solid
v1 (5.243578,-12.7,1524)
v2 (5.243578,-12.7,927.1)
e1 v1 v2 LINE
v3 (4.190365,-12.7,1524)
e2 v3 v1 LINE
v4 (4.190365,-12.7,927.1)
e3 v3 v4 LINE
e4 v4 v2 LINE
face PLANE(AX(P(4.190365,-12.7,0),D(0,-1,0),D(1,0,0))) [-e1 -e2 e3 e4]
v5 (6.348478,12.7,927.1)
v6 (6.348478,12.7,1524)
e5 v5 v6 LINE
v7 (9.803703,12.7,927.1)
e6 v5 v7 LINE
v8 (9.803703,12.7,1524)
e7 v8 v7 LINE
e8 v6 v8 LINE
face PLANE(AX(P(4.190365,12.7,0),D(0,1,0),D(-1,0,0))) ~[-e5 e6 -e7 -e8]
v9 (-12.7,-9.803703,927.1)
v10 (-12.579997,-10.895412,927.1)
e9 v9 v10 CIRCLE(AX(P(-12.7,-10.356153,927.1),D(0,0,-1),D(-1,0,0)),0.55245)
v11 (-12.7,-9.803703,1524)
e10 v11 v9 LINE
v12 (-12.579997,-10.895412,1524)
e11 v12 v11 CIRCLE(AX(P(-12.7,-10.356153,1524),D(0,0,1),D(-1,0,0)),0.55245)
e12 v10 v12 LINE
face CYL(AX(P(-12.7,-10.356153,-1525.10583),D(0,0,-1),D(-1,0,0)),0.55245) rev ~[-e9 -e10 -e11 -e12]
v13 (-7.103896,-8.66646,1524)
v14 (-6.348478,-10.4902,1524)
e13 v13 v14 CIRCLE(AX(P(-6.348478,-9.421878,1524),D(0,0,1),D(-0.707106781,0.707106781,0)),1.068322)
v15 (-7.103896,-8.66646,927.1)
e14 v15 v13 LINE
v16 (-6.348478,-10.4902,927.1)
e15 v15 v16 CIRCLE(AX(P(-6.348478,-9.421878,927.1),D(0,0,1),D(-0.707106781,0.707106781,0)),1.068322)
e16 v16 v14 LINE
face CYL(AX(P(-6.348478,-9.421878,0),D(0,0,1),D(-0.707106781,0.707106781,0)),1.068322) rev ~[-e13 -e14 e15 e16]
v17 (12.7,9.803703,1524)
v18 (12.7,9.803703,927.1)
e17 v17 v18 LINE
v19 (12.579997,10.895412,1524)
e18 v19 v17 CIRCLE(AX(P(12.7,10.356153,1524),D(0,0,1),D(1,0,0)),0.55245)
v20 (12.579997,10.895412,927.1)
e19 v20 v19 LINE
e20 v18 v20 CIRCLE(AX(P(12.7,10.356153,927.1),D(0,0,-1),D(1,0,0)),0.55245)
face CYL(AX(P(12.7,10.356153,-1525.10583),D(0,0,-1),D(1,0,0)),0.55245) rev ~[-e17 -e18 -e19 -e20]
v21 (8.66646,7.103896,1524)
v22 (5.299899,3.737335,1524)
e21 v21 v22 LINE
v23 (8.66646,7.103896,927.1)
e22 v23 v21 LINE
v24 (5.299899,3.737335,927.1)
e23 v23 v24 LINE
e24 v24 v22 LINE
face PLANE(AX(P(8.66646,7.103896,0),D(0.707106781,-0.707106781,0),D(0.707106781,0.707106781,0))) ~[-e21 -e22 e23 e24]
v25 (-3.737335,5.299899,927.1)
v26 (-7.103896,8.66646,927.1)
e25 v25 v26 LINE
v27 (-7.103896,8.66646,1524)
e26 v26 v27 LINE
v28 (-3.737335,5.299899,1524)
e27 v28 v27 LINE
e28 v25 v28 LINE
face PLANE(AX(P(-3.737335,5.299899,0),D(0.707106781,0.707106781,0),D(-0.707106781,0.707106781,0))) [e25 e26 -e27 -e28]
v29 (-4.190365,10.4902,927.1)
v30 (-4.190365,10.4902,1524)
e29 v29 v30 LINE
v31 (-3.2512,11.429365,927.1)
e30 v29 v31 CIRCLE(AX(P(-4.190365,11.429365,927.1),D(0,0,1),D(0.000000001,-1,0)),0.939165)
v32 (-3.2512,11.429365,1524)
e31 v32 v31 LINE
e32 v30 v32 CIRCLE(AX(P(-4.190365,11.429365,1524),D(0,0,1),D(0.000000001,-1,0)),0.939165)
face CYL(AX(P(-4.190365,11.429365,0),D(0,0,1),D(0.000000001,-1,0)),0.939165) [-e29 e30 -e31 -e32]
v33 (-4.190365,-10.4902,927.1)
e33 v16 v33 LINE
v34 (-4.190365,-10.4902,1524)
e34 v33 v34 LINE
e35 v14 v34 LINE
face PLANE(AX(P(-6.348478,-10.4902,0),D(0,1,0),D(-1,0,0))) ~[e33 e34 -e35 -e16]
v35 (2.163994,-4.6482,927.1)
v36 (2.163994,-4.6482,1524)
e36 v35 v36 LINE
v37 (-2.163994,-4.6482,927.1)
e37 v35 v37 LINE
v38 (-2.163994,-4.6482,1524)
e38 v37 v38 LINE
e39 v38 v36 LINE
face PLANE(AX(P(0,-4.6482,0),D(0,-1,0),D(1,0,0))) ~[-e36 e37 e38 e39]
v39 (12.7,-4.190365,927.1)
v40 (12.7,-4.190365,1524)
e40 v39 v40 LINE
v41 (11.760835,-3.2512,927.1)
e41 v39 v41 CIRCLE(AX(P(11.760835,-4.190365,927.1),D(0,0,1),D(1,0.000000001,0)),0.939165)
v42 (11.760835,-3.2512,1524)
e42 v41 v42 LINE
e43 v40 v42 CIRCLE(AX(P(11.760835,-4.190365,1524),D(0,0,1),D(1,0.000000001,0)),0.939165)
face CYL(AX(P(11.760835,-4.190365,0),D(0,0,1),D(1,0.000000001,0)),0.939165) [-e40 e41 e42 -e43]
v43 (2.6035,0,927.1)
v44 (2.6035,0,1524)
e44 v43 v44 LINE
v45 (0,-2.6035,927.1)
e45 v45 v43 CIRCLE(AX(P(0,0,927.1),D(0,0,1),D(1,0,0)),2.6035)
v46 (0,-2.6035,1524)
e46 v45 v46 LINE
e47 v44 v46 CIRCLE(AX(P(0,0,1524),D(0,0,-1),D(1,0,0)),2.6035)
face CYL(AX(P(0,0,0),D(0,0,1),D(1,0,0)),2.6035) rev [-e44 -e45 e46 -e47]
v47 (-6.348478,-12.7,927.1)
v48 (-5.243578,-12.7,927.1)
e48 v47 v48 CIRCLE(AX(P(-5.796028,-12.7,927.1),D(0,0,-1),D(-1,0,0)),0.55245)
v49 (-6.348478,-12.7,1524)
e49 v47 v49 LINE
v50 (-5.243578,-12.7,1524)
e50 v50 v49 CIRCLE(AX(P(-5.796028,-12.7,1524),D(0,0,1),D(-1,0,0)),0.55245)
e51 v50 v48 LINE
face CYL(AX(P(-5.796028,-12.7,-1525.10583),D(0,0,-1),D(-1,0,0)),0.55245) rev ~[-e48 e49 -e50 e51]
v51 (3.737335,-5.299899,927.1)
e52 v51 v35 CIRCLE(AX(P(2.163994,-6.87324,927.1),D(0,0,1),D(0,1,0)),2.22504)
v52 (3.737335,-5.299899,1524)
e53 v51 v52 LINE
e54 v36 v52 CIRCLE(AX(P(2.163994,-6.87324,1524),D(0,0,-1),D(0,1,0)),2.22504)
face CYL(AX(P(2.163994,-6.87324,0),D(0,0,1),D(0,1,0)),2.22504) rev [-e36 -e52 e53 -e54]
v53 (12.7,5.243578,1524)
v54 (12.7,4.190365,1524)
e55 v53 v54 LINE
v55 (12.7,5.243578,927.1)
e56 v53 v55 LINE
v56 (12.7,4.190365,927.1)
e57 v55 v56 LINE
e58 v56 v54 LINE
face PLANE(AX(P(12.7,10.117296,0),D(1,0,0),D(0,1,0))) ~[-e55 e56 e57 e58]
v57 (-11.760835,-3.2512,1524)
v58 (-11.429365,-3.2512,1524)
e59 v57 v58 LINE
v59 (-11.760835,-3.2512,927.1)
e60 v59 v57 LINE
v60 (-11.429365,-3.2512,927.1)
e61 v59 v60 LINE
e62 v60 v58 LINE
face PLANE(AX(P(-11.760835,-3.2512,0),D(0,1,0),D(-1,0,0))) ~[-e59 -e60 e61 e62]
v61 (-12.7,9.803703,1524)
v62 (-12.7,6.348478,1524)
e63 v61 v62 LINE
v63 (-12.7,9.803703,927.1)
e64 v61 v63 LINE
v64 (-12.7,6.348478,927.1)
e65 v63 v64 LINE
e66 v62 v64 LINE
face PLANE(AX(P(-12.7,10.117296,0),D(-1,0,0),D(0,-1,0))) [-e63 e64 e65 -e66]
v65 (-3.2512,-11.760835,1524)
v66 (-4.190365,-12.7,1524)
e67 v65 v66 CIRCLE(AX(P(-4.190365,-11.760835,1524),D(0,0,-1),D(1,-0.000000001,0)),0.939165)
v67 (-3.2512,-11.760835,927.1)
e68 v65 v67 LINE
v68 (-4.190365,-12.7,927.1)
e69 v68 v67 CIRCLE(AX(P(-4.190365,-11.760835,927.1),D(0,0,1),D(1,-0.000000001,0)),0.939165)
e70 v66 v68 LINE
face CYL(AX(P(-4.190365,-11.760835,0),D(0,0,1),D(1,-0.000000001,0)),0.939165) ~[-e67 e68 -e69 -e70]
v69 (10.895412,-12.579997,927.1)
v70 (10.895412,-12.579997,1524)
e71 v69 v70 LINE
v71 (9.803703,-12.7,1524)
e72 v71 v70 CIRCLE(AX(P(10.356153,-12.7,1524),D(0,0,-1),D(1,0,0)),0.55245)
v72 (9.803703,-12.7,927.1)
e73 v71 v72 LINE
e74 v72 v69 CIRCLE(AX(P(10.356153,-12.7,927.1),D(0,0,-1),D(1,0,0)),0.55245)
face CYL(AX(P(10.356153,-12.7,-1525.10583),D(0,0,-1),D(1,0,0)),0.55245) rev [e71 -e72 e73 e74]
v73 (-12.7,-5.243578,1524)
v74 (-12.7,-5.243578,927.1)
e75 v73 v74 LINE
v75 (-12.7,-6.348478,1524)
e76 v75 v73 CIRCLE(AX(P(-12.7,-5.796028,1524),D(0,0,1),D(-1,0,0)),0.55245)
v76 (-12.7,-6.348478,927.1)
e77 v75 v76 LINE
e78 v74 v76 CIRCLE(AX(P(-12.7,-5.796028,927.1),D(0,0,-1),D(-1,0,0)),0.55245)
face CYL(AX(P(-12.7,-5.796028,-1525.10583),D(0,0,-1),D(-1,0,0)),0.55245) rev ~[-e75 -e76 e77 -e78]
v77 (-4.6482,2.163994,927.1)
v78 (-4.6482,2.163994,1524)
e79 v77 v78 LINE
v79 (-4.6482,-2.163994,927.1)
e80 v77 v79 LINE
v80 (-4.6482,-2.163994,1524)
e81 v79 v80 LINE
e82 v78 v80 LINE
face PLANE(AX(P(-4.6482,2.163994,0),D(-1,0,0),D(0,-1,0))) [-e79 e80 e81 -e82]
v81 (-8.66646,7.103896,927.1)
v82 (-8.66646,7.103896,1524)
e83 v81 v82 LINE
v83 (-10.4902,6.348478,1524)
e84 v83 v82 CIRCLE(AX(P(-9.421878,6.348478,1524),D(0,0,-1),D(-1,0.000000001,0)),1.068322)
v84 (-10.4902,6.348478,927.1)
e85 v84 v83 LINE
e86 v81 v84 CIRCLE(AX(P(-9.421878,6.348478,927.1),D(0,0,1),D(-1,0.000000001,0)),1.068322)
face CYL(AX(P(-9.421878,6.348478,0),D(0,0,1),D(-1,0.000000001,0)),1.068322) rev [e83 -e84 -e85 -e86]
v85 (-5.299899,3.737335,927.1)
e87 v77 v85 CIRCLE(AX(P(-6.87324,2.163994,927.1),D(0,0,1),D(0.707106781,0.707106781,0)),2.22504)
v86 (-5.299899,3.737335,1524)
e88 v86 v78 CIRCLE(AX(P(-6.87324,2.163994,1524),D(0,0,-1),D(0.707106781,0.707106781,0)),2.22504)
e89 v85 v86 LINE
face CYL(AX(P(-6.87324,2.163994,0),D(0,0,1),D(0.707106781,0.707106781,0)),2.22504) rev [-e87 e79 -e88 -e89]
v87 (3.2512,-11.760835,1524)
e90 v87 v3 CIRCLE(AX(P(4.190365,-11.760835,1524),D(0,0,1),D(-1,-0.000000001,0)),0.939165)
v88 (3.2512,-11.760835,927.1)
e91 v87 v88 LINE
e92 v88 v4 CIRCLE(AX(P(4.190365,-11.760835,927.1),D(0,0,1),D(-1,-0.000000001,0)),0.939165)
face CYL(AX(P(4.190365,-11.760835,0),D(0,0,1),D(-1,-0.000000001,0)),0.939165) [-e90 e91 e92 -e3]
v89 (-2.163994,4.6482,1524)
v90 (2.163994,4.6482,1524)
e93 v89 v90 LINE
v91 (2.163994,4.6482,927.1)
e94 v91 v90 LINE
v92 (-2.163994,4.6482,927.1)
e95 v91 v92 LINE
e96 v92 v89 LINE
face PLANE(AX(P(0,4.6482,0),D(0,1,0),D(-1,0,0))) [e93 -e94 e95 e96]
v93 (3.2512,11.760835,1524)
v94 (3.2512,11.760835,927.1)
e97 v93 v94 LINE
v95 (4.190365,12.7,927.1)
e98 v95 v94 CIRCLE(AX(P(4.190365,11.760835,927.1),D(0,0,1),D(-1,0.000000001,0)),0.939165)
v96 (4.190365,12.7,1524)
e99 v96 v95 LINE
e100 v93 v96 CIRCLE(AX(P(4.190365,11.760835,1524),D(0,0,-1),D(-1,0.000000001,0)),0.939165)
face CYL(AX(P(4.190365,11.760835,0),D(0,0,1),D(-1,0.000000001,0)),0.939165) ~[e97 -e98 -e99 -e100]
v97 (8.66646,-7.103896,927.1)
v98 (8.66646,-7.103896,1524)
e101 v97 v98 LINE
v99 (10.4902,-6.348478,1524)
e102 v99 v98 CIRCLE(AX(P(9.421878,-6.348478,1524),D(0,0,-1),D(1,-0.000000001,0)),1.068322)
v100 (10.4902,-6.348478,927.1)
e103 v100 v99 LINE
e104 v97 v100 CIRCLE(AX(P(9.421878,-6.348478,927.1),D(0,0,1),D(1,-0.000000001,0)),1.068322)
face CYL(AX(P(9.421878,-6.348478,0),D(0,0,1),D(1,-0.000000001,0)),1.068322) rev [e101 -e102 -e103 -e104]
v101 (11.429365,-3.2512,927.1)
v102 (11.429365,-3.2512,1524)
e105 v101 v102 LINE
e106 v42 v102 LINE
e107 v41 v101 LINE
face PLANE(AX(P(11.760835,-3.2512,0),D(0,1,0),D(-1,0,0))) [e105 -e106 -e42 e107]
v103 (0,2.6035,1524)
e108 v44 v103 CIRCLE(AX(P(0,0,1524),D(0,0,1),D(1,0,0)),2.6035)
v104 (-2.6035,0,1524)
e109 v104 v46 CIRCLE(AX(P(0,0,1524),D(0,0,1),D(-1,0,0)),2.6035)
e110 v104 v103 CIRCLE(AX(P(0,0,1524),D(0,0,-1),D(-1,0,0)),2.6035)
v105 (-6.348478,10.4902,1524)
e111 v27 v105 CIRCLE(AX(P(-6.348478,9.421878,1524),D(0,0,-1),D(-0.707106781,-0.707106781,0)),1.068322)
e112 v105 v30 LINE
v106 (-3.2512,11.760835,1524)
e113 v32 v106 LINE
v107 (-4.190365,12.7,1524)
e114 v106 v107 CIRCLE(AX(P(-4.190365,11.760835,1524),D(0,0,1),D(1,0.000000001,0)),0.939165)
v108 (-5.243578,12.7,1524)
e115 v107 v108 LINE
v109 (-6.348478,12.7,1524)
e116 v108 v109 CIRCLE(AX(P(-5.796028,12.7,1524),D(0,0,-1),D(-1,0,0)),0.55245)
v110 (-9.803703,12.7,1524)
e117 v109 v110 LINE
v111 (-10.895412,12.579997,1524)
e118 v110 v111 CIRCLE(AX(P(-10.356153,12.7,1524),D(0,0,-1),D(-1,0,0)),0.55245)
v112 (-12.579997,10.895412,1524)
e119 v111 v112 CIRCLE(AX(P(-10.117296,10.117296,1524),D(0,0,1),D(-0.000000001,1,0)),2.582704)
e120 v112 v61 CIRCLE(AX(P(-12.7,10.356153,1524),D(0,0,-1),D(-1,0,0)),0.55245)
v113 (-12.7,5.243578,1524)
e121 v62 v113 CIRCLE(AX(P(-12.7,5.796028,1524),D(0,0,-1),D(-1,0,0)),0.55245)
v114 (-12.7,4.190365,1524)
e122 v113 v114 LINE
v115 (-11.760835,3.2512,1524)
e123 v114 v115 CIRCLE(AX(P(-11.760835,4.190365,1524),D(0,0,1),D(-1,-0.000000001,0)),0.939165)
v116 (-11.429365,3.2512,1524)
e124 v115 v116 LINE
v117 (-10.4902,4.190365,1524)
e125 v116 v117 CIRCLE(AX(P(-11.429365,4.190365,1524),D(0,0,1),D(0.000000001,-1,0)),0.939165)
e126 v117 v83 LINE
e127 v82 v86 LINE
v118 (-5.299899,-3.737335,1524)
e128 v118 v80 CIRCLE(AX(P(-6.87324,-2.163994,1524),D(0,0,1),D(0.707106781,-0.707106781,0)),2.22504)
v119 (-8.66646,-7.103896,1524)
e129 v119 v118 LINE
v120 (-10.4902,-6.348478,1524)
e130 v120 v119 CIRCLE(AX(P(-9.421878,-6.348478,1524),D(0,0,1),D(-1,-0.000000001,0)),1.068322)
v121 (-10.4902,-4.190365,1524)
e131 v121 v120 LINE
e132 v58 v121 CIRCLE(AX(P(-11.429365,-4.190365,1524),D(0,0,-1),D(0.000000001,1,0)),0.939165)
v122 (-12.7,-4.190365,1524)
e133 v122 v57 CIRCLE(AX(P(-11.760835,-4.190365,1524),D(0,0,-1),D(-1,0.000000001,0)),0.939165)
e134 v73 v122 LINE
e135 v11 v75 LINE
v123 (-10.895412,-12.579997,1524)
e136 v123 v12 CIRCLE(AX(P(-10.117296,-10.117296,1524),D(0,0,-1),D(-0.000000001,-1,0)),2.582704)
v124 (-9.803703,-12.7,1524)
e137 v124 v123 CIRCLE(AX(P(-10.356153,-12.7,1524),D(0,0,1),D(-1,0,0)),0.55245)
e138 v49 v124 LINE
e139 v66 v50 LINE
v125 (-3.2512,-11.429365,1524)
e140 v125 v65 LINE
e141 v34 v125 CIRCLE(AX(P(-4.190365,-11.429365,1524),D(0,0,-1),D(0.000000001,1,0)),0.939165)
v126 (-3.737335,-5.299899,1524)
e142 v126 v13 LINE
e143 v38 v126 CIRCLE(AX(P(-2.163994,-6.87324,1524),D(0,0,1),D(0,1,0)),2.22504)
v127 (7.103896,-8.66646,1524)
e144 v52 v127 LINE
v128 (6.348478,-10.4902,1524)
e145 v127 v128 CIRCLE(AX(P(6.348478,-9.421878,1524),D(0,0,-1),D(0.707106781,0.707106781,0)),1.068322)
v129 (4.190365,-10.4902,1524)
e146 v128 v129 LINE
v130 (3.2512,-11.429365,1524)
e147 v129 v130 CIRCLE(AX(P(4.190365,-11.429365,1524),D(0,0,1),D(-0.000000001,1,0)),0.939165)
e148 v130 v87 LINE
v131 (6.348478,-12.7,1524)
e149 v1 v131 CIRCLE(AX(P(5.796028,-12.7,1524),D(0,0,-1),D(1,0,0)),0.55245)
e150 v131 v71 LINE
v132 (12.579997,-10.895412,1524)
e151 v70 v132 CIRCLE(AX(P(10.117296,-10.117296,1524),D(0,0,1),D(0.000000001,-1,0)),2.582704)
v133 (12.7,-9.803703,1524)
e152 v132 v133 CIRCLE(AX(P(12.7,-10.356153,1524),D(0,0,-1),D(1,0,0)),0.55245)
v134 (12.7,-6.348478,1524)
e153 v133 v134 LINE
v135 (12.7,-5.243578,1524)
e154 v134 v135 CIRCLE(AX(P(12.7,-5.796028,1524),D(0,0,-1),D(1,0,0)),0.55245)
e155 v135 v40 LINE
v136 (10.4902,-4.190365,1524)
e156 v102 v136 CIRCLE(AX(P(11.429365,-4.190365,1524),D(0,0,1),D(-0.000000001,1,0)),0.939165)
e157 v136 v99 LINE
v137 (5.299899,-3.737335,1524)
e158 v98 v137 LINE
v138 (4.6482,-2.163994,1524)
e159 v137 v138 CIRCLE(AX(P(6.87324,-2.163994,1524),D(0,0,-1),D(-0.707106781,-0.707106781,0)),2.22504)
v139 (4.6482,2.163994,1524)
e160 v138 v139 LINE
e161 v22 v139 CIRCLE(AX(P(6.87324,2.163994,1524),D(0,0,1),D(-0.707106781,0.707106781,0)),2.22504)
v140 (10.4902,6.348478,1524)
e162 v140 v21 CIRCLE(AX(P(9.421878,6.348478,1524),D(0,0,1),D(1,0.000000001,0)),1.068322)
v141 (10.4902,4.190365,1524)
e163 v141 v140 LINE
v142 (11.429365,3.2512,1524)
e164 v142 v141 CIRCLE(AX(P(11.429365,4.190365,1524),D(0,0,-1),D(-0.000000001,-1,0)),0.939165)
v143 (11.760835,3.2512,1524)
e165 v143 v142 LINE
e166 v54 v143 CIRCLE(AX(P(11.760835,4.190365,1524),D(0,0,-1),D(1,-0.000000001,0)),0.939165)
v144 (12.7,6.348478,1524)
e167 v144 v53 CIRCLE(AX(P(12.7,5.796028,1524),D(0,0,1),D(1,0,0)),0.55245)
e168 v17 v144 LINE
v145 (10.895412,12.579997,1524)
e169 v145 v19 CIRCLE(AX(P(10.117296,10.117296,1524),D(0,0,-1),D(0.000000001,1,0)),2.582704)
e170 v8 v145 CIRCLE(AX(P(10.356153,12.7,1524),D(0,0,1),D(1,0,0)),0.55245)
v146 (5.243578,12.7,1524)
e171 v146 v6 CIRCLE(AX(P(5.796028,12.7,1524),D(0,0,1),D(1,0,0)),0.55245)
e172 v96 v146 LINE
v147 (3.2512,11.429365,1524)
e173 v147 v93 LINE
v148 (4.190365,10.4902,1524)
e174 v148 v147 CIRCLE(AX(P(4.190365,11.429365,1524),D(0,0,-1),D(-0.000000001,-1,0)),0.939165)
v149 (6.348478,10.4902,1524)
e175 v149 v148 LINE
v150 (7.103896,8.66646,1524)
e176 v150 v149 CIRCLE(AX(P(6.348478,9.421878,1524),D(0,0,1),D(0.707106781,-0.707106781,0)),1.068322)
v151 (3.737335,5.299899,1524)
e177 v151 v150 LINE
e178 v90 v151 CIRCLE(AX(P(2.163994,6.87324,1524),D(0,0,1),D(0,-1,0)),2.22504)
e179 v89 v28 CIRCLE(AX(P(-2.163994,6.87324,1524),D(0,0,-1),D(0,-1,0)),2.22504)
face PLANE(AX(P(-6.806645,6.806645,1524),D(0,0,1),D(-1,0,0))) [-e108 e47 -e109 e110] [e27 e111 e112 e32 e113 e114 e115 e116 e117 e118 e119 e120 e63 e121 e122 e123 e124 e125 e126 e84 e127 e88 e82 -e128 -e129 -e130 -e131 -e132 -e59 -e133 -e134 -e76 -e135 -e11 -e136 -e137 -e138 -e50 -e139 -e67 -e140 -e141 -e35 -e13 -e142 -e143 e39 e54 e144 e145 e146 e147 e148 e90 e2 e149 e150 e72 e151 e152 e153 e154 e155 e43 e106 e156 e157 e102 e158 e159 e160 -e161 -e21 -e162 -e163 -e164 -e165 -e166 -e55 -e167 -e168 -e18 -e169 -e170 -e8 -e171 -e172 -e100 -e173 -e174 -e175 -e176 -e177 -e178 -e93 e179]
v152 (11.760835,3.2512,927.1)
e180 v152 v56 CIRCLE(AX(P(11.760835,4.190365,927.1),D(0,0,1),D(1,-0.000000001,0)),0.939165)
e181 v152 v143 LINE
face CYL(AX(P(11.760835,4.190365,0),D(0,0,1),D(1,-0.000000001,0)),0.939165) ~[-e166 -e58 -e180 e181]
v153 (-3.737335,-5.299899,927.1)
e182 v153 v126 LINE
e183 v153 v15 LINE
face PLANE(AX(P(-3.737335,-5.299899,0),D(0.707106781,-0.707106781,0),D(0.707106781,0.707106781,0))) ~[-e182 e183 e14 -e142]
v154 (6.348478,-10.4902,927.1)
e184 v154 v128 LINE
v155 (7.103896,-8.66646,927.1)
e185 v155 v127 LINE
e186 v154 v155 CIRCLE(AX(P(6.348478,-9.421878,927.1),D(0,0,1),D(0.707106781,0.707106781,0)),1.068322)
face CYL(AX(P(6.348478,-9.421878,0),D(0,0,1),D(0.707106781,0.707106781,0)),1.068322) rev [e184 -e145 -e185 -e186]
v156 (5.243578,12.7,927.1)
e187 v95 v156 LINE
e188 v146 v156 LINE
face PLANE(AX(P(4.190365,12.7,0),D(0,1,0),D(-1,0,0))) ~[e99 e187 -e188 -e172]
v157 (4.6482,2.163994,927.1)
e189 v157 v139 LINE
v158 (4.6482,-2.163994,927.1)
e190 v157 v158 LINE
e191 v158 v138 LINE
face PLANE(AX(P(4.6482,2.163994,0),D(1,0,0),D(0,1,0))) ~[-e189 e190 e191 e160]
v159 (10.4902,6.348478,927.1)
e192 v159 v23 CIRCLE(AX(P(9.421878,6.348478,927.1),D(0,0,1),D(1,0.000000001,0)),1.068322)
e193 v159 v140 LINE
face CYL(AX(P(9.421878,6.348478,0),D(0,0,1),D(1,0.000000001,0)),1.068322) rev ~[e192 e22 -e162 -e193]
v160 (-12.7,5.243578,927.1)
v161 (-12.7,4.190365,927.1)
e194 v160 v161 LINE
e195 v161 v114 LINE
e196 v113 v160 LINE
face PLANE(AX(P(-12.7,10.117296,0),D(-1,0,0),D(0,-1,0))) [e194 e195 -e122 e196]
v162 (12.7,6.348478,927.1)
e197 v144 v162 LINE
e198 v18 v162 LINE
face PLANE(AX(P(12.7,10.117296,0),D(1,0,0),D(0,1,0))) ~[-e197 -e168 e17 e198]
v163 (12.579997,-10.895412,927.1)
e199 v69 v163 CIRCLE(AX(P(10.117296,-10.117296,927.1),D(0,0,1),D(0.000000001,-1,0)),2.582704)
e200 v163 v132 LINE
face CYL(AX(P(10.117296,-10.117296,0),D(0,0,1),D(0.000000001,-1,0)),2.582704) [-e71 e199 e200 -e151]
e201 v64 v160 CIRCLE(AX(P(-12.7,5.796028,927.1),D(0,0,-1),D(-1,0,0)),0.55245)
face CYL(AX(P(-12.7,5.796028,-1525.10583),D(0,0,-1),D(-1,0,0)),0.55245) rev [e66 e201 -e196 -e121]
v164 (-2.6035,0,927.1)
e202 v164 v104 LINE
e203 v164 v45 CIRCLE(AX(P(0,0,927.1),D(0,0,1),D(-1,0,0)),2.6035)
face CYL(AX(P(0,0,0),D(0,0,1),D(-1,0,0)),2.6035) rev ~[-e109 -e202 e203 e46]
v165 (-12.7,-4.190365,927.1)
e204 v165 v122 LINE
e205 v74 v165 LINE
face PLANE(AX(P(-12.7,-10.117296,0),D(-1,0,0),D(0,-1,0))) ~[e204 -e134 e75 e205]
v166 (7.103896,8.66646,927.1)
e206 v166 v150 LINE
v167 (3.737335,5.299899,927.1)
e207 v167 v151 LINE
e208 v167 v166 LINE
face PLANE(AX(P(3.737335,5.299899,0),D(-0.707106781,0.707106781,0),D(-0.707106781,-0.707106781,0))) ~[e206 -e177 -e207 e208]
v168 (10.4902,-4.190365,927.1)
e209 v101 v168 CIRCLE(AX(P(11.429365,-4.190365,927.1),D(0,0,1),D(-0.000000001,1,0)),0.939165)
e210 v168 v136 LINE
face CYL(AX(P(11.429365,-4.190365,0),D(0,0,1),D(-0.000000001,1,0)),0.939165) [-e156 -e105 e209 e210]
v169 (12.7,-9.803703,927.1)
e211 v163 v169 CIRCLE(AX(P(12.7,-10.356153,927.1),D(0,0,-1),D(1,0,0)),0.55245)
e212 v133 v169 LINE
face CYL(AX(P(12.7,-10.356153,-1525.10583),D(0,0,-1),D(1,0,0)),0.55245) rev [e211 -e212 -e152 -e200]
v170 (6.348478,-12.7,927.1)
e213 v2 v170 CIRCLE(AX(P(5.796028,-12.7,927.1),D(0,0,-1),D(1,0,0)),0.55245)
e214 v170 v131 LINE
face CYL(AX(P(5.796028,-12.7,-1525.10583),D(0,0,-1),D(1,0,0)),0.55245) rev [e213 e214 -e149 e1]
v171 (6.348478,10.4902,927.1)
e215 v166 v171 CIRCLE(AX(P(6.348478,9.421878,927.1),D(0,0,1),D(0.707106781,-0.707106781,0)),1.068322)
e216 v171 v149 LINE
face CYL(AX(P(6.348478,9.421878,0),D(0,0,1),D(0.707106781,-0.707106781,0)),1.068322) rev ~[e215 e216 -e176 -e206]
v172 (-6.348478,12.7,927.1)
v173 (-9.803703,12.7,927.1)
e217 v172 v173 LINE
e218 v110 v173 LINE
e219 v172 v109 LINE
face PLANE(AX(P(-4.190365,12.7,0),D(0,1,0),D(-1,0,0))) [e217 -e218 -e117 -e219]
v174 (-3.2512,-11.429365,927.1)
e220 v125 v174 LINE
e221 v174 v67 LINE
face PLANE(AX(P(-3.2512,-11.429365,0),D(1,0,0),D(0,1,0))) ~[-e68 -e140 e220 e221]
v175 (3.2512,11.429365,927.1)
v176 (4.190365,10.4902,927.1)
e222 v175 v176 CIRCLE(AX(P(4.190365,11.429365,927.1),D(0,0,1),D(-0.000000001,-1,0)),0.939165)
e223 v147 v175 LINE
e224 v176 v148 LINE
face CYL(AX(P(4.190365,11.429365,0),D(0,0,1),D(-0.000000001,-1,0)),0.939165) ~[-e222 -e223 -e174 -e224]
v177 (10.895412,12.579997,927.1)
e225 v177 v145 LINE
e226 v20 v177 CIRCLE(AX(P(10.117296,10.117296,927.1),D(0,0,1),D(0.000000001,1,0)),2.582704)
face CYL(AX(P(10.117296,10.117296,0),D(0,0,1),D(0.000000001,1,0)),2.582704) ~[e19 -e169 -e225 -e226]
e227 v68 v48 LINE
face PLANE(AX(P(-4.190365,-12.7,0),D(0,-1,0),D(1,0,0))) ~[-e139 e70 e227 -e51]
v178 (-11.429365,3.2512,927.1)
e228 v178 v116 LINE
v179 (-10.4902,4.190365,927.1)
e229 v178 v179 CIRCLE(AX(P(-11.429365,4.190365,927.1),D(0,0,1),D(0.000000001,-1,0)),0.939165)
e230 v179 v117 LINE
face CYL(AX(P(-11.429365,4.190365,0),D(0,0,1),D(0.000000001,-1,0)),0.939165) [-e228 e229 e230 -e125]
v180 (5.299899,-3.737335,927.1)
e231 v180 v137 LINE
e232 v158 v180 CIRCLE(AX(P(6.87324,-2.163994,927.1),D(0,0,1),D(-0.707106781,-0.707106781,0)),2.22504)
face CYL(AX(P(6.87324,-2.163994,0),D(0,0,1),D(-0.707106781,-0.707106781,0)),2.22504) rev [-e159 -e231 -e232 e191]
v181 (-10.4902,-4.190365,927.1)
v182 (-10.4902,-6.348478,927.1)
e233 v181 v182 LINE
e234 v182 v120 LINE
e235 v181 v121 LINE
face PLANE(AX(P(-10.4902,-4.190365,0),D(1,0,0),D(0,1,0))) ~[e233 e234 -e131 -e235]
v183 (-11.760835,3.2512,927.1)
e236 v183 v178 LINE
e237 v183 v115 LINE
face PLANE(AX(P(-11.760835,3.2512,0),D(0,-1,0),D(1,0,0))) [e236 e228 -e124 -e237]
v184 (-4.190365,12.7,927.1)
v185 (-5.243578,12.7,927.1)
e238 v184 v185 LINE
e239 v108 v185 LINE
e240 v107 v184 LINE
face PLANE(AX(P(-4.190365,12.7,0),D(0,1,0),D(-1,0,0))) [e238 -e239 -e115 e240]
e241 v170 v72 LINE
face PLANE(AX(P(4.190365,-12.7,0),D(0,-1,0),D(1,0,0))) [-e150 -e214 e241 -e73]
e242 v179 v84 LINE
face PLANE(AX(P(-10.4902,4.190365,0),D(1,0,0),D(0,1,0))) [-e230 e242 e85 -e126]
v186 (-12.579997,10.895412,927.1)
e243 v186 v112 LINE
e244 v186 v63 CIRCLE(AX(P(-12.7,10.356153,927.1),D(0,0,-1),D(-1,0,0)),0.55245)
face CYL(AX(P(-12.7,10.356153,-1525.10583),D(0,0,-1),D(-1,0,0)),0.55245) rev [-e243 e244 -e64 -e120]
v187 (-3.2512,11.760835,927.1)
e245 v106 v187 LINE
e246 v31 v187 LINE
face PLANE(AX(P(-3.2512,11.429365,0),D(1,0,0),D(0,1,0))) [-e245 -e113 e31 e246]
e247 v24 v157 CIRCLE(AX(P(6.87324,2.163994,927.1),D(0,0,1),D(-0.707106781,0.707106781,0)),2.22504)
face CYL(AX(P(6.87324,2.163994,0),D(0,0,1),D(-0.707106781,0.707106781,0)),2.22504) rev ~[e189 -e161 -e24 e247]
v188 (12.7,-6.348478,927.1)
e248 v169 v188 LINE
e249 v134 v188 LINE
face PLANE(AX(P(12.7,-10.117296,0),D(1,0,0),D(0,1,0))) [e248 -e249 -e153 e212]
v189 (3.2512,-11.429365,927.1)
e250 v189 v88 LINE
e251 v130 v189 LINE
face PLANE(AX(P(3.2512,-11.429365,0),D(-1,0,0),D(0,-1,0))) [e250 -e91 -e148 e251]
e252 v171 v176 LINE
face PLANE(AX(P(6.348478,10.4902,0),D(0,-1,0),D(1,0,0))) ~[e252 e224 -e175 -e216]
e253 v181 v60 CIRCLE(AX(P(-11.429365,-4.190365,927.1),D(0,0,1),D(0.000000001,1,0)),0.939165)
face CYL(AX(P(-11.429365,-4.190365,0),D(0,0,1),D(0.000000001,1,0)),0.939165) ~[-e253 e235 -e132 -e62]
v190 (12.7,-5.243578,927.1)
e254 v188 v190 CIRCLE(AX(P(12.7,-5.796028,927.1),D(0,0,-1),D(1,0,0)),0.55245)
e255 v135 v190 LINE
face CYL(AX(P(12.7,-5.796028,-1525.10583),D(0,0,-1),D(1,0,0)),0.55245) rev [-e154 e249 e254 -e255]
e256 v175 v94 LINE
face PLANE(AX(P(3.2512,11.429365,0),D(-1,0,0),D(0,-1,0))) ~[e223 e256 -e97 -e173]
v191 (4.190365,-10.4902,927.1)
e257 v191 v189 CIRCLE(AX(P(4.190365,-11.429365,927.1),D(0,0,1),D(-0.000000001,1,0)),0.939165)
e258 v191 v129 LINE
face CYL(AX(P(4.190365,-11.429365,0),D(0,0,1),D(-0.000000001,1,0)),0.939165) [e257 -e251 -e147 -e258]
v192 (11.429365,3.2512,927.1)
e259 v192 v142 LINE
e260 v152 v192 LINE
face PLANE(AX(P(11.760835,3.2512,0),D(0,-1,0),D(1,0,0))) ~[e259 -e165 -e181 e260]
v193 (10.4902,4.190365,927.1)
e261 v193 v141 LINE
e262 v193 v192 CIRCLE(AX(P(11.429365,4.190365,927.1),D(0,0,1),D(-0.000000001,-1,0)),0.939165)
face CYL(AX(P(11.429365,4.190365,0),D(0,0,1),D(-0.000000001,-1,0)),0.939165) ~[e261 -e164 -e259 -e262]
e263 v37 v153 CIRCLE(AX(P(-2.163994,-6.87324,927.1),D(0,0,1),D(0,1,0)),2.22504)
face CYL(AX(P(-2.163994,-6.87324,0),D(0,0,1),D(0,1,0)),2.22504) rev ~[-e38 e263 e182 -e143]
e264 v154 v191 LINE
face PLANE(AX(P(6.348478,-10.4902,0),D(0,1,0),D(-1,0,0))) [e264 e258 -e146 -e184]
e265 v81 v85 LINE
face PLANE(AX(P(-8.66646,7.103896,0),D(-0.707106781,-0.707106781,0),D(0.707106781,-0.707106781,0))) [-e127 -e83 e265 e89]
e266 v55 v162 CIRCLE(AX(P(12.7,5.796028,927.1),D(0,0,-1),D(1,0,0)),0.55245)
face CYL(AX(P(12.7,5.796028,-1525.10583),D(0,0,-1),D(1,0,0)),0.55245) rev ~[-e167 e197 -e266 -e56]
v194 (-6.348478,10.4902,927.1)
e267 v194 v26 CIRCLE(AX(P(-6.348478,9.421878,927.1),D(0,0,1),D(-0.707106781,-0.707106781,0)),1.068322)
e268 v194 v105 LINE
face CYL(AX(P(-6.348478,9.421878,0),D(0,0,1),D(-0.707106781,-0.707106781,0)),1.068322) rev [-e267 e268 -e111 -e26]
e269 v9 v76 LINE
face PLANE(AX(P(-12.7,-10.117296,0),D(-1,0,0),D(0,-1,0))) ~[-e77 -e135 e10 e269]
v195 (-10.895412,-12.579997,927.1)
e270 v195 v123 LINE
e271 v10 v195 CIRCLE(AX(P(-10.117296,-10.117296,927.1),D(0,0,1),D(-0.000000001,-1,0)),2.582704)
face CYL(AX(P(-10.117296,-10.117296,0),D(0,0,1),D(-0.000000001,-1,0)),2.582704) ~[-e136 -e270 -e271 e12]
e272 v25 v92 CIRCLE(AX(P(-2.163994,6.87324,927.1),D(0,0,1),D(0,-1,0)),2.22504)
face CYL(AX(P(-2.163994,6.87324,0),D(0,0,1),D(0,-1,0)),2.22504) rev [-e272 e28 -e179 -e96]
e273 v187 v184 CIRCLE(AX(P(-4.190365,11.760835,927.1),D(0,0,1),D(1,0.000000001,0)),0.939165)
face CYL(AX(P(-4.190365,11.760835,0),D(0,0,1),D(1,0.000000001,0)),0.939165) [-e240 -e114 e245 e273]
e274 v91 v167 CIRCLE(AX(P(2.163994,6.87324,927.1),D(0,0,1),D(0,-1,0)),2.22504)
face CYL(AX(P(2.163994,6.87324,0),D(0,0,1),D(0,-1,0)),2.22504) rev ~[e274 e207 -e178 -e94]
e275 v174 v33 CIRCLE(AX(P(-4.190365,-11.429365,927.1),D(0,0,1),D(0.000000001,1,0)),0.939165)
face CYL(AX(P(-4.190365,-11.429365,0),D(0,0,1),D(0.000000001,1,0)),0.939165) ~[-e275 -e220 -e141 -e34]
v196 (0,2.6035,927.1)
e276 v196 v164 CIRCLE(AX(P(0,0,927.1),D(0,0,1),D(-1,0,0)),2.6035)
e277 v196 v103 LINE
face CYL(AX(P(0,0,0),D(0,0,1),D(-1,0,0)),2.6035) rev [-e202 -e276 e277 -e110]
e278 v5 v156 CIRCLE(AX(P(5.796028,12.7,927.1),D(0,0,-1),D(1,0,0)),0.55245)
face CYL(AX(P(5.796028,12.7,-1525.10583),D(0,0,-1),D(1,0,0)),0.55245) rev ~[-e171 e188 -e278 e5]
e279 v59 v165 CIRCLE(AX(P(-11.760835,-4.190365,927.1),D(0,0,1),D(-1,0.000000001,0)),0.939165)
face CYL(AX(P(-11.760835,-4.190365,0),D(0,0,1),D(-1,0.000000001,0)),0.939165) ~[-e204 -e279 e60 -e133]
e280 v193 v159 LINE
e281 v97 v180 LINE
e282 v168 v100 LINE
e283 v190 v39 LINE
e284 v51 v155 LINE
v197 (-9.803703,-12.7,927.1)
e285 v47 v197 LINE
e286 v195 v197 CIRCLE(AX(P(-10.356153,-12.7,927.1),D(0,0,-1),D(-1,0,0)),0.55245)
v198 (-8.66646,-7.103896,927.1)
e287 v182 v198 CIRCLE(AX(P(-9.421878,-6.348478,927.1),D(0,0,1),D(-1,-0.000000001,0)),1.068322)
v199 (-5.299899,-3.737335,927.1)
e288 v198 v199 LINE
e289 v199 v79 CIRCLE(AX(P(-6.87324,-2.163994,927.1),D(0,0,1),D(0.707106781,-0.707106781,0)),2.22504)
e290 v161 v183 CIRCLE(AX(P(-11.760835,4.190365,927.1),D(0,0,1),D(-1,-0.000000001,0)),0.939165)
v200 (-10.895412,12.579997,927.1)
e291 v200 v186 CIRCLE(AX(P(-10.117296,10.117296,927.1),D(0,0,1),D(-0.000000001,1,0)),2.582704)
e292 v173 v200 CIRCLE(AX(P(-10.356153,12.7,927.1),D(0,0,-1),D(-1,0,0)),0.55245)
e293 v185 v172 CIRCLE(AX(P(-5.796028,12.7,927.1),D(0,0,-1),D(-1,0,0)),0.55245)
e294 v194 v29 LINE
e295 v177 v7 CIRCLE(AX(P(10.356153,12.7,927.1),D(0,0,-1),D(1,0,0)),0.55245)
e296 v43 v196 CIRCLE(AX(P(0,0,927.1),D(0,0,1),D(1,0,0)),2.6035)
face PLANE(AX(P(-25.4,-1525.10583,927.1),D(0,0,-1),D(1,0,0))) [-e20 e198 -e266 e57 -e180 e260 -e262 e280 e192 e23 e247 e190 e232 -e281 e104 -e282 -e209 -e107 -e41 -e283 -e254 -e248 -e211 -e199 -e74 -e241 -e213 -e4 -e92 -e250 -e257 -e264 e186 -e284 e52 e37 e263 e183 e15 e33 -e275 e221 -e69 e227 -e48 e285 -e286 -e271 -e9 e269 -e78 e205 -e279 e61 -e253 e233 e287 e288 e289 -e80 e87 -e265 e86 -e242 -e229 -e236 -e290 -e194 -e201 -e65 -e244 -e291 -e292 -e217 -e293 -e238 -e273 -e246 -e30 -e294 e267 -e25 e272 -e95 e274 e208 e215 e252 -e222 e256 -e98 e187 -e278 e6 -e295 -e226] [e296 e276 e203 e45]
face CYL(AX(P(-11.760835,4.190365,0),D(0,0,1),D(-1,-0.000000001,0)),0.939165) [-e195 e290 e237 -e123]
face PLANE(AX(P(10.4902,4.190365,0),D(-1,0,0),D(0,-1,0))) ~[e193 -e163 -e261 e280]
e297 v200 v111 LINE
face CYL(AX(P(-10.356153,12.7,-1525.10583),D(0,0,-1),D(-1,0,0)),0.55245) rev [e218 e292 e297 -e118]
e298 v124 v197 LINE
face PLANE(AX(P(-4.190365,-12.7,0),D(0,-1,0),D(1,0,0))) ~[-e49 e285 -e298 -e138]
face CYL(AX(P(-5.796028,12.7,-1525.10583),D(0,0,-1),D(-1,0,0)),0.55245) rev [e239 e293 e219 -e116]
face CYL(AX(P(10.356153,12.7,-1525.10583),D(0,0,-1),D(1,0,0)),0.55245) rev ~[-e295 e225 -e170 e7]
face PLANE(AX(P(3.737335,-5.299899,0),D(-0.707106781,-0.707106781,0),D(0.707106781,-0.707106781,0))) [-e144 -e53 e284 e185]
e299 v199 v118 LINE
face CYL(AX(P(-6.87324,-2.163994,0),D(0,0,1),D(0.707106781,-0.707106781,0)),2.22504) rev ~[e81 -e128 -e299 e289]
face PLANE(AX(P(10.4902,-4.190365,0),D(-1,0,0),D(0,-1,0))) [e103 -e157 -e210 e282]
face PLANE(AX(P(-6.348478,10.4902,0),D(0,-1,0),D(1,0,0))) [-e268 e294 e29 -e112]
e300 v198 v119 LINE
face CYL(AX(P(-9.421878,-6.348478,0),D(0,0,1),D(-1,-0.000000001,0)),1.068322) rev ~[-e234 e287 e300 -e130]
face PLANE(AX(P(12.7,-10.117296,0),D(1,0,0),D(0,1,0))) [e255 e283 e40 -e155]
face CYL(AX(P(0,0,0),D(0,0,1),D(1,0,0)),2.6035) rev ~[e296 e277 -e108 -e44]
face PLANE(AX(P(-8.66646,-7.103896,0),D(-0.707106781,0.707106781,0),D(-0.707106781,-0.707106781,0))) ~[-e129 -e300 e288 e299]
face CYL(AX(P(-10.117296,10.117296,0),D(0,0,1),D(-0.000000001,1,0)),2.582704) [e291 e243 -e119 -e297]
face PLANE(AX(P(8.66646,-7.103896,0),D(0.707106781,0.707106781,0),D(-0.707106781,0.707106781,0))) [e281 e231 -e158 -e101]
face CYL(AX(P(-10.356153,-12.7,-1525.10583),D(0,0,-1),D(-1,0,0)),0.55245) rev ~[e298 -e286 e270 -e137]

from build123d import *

# Parameters (mm, degrees)
BOSS_EXTRUDE1_DEPTH     = 1524
CUT_EXTRUDE1_DEPTH      = 1525.105829659
CUT_EXTRUDE1_DEPTH_BACK = 1525.105829659
SKETCH5_R               = 0.55245
CUT_EXTRUDE2_DEPTH      = 1525.105829659
CUT_EXTRUDE2_DEPTH_BACK = 1525.105829659
SKETCH8_W               = 50.559993734
SKETCH8_H               = 1231.9
CUT_EXTRUDE3_DEPTH      = 1525.105829659
CUT_EXTRUDE3_DEPTH_BACK = 1525.105829659
SKETCH9_W               = 50.679996867
SKETCH9_H               = 1244.6


with BuildPart() as part:
    # Sketch4 → Boss-Extrude1 (new, symmetric)
    with BuildSketch(Plane.XY):
        with BuildLine():
            Line((4.190365, -12.7), (10.11729625, -12.7))
            ThreePointArc((10.11729625, -12.7), (11.943543585, -11.943543585), (12.7, -10.11729625))
            Line((12.7, -10.11729625), (12.7, -4.190365))
            ThreePointArc((12.7, -4.190365), (12.42492494, -3.52627506), (11.760835, -3.2512))
            Line((11.760835, -3.2512), (11.429365, -3.2512))
            ThreePointArc((11.429365, -3.2512), (10.76527506, -3.52627506), (10.4902, -4.190365))
            Line((10.4902, -4.190365), (10.4902, -6.348478019))
            ThreePointArc((10.4902, -6.348478019), (9.830707141, -7.335478831), (8.666460301, -7.103895736))
            Line((8.666460301, -7.103895736), (5.299899128, -3.737334563))
            ThreePointArc((5.299899128, -3.737334563), (4.817571085, -3.015479634), (4.6482, -2.16399369))
            Line((4.6482, -2.16399369), (4.6482, 0))
            Line((4.6482, 0), (2.6035, 0))
            ThreePointArc((2.6035, 0), (1.840952505, -1.840952505), (0, -2.6035))
            Line((0, -2.6035), (0, -4.6482))
            Line((0, -4.6482), (2.16399369, -4.6482))
            ThreePointArc((2.16399369, -4.6482), (3.015479634, -4.817571085), (3.737334563, -5.299899128))
            Line((3.737334563, -5.299899128), (7.103895736, -8.666460301))
            ThreePointArc((7.103895736, -8.666460301), (7.335478831, -9.830707141), (6.348478019, -10.4902))
            Line((6.348478019, -10.4902), (4.190365, -10.4902))
            ThreePointArc((4.190365, -10.4902), (3.52627506, -10.76527506), (3.2512, -11.429365))
            Line((3.2512, -11.429365), (3.2512, -11.760835))
            ThreePointArc((3.2512, -11.760835), (3.52627506, -12.42492494), (4.190365, -12.7))
        make_face()
    extrude(amount=BOSS_EXTRUDE1_DEPTH, both=True)

    # Sketch5 → Cut-Extrude1 (cut, two sides: drawn at the far end of the back side and taken through both)
    with BuildSketch(Plane.XY.offset(-CUT_EXTRUDE1_DEPTH_BACK)):
        with Locations((10.356153152, -12.7)):
            Circle(SKETCH5_R)
        with Locations((5.796028019, -12.7)):
            Circle(SKETCH5_R)
        with Locations((12.7, -10.356153152)):
            Circle(SKETCH5_R)
        with Locations((12.7, -5.796028019)):
            Circle(SKETCH5_R)
    extrude(amount=CUT_EXTRUDE1_DEPTH + CUT_EXTRUDE1_DEPTH_BACK, mode=Mode.SUBTRACT)

    # Mirror1: part across plane


with BuildPart() as part_1:
    add(part.part)
    add(part.part.mirror(Plane(origin=(0, 0, 0), x_dir=(0, 0, 1), z_dir=(1, 0, 0))))

    # Mirror2: part across plane


with BuildPart() as part_2:
    add(part_1.part)
    add(part_1.part.mirror(Plane.ZX))

    # Sketch8 → Cut-Extrude2 (cut, two sides: drawn at the far end of the back side and taken through both)
    with BuildSketch(Plane(origin=(0, 0, 0), x_dir=(1, 0, 0), z_dir=(0, 1, 0)).offset(-CUT_EXTRUDE2_DEPTH_BACK)):
        with Locations((0, 920.75)):
            Rectangle(SKETCH8_W, SKETCH8_H)
    extrude(amount=CUT_EXTRUDE2_DEPTH + CUT_EXTRUDE2_DEPTH_BACK, mode=Mode.SUBTRACT)

    # Sketch9 → Cut-Extrude3 (cut, two sides: drawn at the far end of the back side and taken through both)
    with BuildSketch(Plane(origin=(0, 0, 0), x_dir=(1, 0, 0), z_dir=(0, 1, 0)).offset(-CUT_EXTRUDE3_DEPTH_BACK)):
        with Locations((-0.060001567, -304.8)):
            Rectangle(SKETCH9_W, SKETCH9_H)
    extrude(amount=CUT_EXTRUDE3_DEPTH + CUT_EXTRUDE3_DEPTH_BACK, mode=Mode.SUBTRACT)


solid = part_2.part
